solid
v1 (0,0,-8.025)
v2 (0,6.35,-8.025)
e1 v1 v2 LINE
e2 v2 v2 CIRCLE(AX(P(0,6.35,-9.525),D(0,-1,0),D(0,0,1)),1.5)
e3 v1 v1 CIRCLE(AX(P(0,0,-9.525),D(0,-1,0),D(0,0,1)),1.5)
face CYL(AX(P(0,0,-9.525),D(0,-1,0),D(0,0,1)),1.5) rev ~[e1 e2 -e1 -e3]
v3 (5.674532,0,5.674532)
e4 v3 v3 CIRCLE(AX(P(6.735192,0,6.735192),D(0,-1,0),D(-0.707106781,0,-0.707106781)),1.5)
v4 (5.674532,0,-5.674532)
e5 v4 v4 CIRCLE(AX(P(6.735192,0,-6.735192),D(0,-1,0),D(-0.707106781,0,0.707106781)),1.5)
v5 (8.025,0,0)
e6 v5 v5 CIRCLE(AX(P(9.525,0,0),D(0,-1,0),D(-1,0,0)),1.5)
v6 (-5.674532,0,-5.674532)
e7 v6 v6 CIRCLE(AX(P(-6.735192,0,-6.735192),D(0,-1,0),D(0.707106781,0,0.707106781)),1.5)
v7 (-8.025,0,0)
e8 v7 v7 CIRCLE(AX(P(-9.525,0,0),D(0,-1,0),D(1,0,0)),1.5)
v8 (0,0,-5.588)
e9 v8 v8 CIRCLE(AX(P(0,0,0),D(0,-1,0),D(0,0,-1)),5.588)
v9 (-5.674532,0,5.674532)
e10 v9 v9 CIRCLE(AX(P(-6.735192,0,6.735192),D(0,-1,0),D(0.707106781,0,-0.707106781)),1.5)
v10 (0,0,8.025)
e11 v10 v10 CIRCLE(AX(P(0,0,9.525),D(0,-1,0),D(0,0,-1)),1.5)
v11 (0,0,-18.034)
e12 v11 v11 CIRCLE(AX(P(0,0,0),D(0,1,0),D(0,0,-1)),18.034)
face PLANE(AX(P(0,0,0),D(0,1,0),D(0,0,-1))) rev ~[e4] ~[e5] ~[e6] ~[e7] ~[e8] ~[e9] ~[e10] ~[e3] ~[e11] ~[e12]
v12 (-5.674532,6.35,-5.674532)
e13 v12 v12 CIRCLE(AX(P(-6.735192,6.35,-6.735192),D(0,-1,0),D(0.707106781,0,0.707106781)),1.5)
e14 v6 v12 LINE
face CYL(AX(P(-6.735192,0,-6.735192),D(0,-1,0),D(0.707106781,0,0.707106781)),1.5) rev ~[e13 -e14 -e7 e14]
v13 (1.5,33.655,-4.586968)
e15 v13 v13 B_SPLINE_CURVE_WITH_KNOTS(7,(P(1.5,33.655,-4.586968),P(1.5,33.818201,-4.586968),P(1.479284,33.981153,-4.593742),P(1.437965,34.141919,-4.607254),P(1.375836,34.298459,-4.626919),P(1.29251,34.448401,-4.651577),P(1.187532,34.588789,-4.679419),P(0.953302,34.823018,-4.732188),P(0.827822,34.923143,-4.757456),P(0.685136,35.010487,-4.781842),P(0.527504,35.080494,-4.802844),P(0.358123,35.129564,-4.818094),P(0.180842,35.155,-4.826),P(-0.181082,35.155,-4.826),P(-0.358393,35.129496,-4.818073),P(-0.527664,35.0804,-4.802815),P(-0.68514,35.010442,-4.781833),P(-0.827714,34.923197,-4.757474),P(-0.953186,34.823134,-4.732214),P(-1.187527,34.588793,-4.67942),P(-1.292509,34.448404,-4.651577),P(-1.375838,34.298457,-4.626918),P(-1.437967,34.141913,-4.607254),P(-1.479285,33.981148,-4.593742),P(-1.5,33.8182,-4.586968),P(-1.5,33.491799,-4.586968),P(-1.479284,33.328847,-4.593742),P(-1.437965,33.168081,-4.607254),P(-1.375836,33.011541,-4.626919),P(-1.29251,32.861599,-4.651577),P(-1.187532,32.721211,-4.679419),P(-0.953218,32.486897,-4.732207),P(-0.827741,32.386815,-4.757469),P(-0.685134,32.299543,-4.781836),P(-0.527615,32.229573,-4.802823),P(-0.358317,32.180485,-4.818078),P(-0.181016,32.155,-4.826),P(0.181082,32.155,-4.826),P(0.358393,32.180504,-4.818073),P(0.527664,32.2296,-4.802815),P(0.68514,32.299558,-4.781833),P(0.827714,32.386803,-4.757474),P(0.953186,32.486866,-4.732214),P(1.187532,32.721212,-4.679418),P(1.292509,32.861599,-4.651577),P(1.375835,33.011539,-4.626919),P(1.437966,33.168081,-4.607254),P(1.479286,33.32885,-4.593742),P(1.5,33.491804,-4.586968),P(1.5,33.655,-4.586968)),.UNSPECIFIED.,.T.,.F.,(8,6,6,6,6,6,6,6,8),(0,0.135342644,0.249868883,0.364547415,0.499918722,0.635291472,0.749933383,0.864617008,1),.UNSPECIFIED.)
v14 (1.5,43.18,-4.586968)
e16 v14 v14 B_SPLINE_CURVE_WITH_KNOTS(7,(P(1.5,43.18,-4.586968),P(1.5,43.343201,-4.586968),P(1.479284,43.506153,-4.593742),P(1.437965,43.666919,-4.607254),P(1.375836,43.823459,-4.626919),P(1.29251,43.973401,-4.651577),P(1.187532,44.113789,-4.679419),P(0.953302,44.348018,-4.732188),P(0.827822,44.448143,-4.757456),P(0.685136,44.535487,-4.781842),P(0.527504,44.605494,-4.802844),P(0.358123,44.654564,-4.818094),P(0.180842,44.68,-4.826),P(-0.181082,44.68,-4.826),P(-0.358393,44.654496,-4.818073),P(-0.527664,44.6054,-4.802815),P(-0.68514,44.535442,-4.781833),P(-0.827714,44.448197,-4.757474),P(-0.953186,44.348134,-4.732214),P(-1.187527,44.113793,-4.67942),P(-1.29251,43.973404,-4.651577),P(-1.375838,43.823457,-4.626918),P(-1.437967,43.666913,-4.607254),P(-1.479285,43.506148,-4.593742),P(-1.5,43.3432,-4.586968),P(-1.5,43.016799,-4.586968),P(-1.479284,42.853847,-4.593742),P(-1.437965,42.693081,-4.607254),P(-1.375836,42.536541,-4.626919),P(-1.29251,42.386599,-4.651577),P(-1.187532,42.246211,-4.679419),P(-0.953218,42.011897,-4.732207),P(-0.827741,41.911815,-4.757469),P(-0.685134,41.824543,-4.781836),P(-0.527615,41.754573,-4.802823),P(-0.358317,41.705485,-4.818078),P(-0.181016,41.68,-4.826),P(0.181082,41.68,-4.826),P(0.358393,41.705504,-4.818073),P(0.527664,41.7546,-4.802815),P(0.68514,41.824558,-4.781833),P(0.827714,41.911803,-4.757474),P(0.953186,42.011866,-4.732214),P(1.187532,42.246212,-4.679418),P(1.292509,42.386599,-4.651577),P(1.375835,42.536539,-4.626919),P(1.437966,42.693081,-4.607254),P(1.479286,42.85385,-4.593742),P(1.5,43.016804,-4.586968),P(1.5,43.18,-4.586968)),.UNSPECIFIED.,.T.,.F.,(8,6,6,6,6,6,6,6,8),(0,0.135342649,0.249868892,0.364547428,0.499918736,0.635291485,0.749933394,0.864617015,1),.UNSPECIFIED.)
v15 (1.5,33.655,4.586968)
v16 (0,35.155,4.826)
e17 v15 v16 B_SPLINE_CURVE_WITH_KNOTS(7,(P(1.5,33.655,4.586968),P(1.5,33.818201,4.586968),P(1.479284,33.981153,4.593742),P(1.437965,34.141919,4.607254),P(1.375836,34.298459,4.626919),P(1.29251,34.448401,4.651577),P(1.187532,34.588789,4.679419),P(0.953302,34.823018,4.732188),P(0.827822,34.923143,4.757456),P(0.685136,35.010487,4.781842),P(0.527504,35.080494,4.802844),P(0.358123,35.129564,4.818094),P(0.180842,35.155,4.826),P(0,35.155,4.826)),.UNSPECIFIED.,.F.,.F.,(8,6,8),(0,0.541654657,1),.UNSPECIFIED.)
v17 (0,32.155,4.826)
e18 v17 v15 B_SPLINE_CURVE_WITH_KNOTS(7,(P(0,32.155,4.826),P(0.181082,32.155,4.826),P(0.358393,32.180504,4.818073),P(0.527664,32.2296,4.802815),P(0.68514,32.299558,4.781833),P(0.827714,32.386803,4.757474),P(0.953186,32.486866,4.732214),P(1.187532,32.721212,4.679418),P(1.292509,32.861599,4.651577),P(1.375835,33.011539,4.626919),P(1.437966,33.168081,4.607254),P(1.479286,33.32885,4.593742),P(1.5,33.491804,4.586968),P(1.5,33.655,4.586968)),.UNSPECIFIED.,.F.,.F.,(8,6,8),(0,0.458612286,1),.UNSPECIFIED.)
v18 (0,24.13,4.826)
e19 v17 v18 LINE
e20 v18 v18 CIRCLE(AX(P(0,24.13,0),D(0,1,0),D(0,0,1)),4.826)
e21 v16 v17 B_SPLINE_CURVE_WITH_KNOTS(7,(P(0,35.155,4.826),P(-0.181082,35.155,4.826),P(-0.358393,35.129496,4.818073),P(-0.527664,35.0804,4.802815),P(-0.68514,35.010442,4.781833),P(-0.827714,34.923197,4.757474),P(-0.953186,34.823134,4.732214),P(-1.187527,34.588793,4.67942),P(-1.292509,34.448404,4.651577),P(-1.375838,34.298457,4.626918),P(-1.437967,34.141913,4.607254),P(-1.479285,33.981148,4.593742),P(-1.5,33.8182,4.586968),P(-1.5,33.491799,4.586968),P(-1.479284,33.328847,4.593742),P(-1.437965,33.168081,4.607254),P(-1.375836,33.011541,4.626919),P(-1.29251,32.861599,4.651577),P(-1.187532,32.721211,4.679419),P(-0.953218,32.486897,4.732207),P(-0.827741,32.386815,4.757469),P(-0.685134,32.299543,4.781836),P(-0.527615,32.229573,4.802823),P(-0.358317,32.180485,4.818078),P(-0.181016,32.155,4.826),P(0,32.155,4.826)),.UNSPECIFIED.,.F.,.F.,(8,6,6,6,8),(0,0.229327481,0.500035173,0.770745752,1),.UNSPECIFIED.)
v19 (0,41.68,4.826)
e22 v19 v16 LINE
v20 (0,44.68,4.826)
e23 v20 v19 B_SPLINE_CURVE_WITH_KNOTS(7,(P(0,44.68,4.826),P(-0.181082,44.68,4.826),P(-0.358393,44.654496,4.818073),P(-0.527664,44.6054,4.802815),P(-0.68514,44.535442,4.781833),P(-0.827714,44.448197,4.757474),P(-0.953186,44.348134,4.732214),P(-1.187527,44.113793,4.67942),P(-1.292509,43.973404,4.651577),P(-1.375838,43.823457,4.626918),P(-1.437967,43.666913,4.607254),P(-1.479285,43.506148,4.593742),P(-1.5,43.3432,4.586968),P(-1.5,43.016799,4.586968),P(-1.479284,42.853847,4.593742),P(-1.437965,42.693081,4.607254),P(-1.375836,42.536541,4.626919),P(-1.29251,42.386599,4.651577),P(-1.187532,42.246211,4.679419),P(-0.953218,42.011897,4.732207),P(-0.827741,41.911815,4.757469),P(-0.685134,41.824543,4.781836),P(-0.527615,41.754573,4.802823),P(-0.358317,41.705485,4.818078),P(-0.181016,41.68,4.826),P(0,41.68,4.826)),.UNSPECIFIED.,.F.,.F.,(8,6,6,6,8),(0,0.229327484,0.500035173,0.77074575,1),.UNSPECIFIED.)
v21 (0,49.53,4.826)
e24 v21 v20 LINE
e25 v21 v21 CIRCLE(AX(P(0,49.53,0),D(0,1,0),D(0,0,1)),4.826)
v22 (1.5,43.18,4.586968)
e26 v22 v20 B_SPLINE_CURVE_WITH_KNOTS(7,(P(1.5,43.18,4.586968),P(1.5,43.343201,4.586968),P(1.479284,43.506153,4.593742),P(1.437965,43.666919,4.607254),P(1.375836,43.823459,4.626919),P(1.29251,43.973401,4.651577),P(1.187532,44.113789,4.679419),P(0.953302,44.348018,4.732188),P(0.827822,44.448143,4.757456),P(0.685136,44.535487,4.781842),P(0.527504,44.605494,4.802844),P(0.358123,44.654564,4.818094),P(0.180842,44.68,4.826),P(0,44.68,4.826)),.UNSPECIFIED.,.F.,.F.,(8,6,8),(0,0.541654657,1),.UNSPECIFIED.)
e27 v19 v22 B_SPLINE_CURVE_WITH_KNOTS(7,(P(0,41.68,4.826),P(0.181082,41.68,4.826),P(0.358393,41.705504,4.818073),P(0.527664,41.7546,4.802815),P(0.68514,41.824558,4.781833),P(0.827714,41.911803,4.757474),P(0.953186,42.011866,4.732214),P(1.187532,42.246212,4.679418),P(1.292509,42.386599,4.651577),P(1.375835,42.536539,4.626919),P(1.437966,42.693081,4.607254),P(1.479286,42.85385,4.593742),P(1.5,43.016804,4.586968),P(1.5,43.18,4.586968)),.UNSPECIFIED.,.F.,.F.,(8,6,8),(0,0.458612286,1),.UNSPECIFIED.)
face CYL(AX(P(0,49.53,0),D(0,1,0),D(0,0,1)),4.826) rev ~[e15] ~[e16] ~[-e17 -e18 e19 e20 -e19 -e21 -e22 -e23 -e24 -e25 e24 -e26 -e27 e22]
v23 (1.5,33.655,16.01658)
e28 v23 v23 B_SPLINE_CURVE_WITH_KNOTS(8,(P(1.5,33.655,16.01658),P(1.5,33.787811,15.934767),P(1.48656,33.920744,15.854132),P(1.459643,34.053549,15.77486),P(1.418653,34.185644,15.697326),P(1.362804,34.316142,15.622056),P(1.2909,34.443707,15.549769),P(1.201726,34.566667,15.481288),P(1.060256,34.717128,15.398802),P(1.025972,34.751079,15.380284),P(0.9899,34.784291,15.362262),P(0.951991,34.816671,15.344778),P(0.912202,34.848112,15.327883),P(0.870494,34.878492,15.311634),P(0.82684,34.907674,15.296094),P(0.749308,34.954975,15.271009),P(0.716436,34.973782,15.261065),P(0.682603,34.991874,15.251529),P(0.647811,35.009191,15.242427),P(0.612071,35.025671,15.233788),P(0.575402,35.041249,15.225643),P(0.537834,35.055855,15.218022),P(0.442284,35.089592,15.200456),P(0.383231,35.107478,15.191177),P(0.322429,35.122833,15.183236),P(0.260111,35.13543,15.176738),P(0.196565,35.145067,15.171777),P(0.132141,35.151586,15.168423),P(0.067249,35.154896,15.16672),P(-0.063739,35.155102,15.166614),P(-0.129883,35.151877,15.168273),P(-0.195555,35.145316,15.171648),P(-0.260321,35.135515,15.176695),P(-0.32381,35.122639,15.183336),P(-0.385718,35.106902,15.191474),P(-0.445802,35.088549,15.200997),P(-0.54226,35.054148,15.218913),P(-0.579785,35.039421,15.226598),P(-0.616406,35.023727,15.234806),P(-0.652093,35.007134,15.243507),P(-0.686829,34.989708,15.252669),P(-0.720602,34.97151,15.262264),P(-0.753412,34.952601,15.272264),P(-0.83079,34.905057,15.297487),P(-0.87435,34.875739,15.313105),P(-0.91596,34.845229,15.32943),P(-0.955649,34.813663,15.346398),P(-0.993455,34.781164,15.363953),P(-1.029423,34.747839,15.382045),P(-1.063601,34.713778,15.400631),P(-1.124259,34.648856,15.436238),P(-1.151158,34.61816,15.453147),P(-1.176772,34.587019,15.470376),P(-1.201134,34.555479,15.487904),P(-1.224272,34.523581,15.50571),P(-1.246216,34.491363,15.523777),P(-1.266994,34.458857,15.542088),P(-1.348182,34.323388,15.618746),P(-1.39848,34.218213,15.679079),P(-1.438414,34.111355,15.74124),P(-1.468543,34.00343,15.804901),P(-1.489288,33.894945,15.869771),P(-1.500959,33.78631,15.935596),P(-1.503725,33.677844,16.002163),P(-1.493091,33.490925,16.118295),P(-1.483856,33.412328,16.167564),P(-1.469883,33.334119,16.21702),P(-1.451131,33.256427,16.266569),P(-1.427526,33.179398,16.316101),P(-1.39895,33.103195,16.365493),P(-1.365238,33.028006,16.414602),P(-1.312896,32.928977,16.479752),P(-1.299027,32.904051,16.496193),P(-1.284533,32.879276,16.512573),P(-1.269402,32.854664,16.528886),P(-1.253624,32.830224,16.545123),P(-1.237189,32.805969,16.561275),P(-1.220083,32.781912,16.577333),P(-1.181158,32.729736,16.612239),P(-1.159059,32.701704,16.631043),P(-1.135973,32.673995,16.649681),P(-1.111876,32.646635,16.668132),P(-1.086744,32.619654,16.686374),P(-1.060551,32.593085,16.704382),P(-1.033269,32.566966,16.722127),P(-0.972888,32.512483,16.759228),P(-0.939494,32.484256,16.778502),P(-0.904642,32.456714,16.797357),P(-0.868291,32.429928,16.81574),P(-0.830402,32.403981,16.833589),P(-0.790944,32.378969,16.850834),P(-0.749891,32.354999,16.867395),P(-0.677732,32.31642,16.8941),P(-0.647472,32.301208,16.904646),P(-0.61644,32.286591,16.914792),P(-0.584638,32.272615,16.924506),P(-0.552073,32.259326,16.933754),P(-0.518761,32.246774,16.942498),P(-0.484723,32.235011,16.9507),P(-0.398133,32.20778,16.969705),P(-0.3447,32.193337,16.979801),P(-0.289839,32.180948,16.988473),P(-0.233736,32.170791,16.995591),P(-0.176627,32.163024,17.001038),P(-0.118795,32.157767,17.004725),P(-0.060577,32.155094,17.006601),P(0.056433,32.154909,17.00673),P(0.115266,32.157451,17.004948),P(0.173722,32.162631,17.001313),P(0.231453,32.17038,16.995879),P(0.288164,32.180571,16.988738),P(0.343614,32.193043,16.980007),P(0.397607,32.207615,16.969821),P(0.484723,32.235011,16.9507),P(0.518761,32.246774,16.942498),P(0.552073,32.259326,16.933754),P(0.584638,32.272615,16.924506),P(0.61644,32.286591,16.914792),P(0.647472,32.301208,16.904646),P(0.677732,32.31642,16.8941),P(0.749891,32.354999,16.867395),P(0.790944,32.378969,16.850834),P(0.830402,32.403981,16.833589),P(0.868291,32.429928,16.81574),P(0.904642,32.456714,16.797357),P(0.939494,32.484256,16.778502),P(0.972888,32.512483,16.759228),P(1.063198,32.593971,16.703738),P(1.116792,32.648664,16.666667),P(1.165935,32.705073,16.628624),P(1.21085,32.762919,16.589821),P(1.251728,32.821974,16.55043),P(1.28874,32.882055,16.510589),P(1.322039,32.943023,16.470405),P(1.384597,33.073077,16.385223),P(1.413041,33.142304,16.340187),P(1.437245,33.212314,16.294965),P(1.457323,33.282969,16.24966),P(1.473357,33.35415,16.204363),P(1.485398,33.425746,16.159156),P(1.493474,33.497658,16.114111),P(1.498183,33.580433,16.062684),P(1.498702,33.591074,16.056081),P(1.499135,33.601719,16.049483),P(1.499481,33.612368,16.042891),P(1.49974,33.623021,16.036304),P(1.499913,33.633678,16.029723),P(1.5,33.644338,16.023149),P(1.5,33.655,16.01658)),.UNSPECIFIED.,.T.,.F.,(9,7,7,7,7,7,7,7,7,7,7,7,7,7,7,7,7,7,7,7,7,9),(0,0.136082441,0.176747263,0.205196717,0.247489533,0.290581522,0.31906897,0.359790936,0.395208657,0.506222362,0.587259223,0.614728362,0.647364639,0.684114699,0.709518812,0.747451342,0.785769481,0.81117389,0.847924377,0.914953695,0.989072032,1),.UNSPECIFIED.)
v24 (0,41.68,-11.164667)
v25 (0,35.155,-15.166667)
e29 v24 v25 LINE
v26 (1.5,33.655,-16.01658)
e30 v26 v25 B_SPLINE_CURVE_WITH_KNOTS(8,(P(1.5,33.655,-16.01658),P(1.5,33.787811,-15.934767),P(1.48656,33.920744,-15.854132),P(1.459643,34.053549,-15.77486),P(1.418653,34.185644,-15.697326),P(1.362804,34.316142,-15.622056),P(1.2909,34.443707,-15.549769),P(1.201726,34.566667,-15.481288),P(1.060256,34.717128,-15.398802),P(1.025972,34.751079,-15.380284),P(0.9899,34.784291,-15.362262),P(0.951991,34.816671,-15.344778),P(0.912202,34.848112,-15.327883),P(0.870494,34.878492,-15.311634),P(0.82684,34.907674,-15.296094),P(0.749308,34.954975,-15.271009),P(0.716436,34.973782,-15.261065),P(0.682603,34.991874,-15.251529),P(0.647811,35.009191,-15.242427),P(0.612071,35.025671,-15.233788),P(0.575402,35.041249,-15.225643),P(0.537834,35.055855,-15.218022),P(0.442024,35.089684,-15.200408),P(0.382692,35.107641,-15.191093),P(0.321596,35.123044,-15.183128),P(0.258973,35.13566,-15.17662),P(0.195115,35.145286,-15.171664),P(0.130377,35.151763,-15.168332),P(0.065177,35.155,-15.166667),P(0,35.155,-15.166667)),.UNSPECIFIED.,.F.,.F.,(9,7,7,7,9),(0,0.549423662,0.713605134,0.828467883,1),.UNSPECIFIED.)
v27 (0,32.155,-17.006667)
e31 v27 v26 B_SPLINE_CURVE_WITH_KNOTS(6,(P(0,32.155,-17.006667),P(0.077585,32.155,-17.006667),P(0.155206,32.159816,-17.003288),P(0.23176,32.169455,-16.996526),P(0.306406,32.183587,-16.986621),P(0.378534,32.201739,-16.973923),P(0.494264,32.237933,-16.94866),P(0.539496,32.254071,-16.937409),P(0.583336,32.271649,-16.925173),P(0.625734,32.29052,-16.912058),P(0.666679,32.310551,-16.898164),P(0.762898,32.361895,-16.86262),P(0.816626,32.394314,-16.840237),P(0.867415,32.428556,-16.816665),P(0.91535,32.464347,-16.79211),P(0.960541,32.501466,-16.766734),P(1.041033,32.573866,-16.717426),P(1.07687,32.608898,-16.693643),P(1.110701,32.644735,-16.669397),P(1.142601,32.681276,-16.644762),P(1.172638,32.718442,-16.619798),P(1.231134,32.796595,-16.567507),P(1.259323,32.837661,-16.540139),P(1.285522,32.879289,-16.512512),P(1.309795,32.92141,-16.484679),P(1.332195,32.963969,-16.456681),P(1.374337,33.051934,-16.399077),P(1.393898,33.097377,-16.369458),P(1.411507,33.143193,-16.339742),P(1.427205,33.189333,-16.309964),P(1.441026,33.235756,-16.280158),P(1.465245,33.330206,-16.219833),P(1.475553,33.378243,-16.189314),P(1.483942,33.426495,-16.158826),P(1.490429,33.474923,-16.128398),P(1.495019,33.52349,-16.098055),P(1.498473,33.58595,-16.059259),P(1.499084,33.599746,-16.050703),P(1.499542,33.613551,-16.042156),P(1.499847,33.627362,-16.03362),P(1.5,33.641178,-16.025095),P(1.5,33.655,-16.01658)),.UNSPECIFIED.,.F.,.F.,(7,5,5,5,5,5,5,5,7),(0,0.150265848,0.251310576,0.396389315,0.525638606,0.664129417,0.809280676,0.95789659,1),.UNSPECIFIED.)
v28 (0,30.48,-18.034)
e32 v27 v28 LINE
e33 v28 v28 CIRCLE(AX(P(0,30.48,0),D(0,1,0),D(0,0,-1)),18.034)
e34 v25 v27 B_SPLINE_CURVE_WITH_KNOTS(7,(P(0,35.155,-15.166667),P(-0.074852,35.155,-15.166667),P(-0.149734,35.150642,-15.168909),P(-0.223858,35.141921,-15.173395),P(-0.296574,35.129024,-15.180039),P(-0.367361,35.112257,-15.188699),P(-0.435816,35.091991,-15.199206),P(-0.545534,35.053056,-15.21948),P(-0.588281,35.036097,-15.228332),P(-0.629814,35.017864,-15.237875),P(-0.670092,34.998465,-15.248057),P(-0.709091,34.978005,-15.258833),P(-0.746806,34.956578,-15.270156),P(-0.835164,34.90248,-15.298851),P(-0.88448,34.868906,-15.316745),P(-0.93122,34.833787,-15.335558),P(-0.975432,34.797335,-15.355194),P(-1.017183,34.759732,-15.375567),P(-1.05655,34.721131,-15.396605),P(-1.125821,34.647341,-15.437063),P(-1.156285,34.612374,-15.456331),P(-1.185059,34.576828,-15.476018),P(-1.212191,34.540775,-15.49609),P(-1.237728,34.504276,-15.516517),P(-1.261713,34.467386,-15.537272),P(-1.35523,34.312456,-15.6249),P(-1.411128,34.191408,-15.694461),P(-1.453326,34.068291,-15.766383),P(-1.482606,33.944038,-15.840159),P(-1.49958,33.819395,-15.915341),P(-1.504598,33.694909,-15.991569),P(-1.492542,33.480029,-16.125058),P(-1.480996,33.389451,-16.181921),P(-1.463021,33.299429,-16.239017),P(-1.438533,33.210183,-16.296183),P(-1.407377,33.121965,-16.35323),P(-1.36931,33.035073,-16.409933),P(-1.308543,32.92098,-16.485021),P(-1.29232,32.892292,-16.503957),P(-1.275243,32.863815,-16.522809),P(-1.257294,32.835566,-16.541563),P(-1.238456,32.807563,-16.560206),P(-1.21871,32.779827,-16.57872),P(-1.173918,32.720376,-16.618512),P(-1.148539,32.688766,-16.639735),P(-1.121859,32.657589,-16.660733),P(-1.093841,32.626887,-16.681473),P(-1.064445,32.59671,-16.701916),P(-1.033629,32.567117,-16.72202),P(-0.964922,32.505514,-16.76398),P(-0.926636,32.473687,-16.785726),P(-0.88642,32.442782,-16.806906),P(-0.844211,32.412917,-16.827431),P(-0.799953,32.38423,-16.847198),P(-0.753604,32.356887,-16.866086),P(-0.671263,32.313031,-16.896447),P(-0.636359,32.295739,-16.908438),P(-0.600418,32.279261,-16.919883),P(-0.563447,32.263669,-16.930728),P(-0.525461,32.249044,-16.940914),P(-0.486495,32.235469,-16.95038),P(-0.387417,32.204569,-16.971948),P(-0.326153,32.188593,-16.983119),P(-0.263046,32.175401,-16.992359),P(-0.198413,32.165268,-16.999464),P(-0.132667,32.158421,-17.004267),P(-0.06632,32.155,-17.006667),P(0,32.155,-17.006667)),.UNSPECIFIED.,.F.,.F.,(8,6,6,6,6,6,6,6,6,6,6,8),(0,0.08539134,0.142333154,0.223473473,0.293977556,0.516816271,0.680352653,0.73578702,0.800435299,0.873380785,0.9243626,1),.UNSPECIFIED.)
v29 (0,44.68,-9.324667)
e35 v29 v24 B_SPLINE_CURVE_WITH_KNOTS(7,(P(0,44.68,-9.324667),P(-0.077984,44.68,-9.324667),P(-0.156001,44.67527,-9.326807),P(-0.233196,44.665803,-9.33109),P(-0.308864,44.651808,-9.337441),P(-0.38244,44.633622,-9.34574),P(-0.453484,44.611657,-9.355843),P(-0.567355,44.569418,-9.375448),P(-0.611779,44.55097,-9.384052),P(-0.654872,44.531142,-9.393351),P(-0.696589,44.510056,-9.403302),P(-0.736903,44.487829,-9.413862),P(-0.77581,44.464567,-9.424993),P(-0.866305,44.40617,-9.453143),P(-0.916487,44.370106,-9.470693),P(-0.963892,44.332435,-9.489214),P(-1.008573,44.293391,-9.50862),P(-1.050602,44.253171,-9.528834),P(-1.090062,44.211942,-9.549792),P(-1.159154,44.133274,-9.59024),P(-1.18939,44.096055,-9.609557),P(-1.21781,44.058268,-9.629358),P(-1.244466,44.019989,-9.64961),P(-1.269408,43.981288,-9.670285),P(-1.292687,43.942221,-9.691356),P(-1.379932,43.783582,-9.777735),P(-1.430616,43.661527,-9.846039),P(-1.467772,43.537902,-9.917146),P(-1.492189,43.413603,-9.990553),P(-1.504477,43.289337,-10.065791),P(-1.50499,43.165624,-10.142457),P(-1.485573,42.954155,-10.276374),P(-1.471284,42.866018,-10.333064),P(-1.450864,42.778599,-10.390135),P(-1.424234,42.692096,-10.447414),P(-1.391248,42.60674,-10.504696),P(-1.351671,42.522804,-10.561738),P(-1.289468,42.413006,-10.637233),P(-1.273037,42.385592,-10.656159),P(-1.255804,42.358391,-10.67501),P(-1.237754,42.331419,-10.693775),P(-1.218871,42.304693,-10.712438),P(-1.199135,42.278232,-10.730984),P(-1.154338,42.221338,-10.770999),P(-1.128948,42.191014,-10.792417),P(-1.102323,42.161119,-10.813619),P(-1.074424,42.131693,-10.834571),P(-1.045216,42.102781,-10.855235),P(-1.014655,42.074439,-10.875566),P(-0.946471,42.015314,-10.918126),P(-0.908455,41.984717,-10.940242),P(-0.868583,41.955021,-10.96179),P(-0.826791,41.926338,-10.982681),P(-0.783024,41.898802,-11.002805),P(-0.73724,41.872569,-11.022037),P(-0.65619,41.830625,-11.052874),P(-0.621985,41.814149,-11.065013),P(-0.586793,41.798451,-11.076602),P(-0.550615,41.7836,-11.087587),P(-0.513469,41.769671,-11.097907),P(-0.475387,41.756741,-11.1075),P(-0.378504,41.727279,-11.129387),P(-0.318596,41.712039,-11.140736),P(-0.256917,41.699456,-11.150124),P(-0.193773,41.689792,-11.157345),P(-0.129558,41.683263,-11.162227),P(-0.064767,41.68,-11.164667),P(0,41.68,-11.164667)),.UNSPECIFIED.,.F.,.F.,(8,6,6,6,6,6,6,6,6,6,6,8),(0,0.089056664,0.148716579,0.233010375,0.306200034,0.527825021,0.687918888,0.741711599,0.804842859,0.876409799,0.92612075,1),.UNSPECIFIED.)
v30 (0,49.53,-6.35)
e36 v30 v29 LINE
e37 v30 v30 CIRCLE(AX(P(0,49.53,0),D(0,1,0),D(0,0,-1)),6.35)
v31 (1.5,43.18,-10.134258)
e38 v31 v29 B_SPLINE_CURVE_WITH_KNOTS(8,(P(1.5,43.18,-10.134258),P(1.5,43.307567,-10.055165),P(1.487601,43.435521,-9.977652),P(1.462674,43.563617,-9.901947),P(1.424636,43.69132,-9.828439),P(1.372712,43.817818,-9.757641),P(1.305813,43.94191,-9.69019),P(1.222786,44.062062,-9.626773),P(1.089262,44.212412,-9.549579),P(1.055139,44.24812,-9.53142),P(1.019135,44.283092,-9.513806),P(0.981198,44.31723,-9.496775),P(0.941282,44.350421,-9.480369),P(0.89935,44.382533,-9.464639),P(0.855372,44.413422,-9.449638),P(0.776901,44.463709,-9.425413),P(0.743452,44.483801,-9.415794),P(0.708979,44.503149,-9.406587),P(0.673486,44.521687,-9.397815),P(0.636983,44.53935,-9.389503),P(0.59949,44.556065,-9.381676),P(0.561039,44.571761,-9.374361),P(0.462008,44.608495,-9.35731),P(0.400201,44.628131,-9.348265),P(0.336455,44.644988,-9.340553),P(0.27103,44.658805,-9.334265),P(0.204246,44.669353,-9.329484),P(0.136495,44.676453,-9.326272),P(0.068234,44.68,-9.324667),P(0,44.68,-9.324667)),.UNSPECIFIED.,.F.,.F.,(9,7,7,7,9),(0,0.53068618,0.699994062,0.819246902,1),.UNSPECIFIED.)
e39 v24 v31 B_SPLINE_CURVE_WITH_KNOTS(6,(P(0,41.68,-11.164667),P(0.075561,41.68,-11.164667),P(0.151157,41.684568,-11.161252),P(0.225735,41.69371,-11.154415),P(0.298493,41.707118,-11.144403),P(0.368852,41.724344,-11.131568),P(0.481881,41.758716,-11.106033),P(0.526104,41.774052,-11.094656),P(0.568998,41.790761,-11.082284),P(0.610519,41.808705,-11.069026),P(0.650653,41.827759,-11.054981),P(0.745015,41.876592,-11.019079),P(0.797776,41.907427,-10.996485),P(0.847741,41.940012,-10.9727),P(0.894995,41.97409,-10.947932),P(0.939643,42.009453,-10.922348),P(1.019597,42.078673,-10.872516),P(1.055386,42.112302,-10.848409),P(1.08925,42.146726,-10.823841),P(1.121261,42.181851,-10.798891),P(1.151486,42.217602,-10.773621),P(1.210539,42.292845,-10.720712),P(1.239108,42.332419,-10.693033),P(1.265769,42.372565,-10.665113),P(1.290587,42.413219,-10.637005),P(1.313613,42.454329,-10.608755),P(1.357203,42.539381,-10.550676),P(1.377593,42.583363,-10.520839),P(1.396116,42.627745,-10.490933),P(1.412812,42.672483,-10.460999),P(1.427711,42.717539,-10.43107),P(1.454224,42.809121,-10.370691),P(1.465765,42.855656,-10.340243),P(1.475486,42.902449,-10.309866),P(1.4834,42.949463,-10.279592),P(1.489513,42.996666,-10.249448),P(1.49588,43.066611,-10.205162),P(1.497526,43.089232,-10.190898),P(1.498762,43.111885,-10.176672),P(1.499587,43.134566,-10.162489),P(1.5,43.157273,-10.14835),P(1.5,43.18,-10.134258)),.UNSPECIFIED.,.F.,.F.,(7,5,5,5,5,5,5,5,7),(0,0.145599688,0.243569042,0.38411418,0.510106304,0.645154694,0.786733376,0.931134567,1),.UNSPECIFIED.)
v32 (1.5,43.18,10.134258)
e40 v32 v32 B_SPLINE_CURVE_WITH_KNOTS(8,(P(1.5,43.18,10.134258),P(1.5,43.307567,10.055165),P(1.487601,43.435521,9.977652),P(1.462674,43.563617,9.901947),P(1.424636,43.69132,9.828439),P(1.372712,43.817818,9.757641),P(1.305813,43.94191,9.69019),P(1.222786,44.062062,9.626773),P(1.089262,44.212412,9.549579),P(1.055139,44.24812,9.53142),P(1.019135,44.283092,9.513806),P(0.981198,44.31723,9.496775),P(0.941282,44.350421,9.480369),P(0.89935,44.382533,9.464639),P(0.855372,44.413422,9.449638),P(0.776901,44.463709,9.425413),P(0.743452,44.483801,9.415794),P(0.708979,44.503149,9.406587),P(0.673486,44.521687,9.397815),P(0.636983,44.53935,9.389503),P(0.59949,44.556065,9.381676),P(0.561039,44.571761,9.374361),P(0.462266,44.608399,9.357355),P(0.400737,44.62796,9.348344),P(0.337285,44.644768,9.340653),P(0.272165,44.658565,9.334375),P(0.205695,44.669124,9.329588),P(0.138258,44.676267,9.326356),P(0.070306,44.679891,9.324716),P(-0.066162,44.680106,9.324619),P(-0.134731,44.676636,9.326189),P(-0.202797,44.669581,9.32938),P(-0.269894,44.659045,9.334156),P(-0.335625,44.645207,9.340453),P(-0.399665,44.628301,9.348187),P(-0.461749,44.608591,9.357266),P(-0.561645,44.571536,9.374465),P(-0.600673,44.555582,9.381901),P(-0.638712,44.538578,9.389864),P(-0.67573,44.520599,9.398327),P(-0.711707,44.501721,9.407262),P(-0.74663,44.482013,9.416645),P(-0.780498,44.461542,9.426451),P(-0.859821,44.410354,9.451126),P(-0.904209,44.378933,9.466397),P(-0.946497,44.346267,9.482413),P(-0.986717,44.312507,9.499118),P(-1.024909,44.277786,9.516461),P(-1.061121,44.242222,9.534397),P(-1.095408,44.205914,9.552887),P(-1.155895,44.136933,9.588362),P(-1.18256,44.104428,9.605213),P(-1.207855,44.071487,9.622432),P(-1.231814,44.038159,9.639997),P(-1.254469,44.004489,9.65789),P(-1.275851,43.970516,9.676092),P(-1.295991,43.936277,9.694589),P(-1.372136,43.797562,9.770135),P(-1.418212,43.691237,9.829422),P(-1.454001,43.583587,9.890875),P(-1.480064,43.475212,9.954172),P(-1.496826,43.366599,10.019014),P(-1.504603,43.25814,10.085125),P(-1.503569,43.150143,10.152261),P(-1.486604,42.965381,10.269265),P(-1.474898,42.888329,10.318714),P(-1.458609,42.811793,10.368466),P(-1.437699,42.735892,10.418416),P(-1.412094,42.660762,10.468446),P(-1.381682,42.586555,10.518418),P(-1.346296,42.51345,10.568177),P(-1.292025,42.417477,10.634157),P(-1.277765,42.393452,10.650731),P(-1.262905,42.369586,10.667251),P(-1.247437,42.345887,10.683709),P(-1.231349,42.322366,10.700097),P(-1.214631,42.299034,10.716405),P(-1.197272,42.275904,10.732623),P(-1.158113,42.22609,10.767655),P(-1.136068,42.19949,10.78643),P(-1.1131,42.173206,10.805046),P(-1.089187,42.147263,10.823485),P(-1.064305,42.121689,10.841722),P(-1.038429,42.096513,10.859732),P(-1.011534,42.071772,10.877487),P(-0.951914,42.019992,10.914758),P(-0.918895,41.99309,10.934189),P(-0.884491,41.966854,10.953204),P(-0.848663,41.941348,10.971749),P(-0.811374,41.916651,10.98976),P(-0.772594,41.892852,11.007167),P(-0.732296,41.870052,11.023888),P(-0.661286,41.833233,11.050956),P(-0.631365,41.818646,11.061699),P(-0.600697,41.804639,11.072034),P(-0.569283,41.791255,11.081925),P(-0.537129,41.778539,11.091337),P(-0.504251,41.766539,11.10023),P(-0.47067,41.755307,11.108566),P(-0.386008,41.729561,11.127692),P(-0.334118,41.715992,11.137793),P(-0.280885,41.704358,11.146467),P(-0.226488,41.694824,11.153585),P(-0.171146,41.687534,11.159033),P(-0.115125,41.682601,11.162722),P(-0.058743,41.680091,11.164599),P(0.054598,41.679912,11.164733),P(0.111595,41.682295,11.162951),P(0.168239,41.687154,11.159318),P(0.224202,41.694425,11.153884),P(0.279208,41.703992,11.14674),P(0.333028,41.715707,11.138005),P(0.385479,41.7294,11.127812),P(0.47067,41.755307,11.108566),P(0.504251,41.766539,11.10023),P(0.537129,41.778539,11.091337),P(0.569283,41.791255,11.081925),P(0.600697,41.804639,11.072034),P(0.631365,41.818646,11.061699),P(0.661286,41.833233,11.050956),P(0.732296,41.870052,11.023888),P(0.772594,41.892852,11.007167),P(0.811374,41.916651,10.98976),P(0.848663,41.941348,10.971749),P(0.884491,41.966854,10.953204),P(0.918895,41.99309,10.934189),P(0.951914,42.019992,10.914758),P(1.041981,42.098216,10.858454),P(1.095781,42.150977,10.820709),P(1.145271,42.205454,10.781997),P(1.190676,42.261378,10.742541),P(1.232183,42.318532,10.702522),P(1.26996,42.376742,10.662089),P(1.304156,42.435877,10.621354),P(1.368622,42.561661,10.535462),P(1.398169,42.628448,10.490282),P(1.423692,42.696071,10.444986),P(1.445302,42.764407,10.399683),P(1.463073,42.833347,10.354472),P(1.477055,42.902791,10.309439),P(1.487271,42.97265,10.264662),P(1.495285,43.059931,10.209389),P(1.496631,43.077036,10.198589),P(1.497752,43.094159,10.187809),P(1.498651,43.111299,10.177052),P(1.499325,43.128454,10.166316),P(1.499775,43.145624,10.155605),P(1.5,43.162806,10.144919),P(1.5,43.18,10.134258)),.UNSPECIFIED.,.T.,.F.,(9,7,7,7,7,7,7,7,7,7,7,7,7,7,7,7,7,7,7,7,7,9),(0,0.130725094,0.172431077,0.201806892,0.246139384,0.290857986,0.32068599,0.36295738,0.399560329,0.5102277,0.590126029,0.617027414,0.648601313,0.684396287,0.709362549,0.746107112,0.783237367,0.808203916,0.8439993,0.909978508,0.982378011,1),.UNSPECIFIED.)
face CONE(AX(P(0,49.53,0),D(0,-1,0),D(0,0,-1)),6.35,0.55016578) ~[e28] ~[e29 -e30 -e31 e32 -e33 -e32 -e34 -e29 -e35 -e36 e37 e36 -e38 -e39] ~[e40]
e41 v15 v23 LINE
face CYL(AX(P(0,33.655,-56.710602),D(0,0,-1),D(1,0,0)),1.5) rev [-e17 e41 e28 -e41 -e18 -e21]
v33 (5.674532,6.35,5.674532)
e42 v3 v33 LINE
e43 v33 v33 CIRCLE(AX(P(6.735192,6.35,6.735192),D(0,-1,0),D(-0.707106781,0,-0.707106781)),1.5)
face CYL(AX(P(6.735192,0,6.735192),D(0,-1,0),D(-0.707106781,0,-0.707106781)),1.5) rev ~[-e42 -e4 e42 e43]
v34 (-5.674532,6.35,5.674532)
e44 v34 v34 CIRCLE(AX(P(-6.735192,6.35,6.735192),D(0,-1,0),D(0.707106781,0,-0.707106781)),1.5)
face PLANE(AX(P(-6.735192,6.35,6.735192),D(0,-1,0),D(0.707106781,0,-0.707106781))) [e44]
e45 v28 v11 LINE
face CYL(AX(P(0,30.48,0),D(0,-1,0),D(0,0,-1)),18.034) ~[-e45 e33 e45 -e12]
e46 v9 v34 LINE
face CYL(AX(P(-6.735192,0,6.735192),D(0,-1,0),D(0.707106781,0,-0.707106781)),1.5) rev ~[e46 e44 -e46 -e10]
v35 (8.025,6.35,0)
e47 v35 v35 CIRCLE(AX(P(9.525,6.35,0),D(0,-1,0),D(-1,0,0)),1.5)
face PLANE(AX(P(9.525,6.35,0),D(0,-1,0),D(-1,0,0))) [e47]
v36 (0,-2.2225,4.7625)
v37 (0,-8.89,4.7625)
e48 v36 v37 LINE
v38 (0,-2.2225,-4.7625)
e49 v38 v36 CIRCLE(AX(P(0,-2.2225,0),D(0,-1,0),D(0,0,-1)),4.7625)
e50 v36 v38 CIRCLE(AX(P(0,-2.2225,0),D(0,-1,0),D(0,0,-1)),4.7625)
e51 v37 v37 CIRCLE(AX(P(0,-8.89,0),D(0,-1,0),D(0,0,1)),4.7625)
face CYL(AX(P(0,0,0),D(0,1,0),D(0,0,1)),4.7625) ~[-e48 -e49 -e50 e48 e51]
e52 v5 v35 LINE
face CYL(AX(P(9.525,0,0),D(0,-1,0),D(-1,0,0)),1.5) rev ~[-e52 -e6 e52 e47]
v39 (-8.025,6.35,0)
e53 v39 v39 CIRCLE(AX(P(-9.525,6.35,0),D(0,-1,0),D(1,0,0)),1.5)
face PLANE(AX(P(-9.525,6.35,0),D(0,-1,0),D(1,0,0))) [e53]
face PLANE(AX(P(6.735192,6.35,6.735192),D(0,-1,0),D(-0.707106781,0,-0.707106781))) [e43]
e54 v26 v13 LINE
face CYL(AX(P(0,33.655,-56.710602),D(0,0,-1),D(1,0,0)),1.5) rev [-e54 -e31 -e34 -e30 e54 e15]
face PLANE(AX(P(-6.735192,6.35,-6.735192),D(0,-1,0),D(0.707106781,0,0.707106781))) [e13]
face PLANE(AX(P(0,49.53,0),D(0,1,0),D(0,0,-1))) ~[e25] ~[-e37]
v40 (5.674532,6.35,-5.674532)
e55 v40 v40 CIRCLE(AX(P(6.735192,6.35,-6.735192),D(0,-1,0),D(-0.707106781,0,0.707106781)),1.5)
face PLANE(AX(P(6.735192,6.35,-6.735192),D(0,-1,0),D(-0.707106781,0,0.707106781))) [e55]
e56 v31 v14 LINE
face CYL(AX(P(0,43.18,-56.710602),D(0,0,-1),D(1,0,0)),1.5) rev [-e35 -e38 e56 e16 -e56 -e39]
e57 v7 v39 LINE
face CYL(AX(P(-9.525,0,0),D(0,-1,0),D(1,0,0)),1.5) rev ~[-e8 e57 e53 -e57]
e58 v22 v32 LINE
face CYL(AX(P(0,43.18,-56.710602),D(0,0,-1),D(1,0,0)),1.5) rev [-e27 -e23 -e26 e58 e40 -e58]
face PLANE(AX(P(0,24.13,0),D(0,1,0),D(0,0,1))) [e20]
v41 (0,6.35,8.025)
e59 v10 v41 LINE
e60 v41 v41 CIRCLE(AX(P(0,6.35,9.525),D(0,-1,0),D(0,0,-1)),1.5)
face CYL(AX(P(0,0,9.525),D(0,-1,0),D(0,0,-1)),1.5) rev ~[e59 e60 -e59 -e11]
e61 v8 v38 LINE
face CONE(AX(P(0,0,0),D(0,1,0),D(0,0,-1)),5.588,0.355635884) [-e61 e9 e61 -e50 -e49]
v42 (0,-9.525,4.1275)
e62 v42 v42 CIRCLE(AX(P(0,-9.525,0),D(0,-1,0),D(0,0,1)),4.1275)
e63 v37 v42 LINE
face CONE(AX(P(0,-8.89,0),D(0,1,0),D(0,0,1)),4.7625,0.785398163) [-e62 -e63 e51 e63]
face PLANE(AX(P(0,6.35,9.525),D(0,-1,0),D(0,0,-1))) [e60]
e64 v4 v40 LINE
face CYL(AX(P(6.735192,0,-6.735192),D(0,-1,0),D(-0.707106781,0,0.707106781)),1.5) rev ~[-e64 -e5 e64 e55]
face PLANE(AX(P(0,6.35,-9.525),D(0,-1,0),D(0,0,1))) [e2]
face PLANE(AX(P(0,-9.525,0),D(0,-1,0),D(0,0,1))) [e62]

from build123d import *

# Parameters (mm, degrees)
SKETCH3_R               = 4.826
CUT_EXTRUDE1_DEPTH      = 25.4
CUT_EXTRUDE2_DEPTH      = 56.71060233
CUT_EXTRUDE2_DEPTH_BACK = 56.71060233
SKETCH4_R               = 1.5
SKETCH5_R               = 1.5
CUT_EXTRUDE3_DEPTH      = 6.35
CIRPATTERN1_COUNT       = 8
SKETCH6_R               = 4.7625
BOSS_EXTRUDE1_DEPTH     = 9.525
CHAMFER1_SIZE           = 0.635


with BuildPart() as part:
    # 草图1 → 旋转1 (revolve)
    with BuildSketch(Plane.XY, mode=Mode.PRIVATE) as revolve_1_sk:
        Polygon((0, 0), (0, 30.48), (0, 49.53), (6.35, 49.53), (18.034, 30.48), (18.034, 0), align=None)
    revolve(revolve_1_sk.sketch.rotate(Axis((0, 0, 0), (0, 1, 0)), 90), axis=Axis((0, 0, 0), (0, 1, 0)))

    # Sketch3 → Cut-Extrude1 (cut)
    with BuildSketch(Plane(origin=(0, 49.53, 0), x_dir=(1, 0, 0), z_dir=(0, 1, 0))):
        with Locations(Location((0, 0, 0), (0, 0, 270))):
            Circle(SKETCH3_R)
    extrude(amount=-CUT_EXTRUDE1_DEPTH, mode=Mode.SUBTRACT)

    # Sketch4 → Cut-Extrude2 (cut, two sides: drawn at the far end of the back side and taken through both)
    with BuildSketch(Plane.XY.offset(-CUT_EXTRUDE2_DEPTH_BACK)):
        with Locations((0, 43.18)):
            Circle(SKETCH4_R)
        with Locations((0, 33.655)):
            Circle(SKETCH4_R)
    extrude(amount=CUT_EXTRUDE2_DEPTH + CUT_EXTRUDE2_DEPTH_BACK, mode=Mode.SUBTRACT)

    # Sketch5 → Cut-Extrude3 (cut)
    with BuildSketch(Plane.XZ):
        with Locations(Location((0, 9.525, 0), (0, 0, 270))):
            Circle(SKETCH5_R)
    cut_extrude3 = extrude(amount=-CUT_EXTRUDE3_DEPTH, mode=Mode.SUBTRACT)

    # CirPattern1: Cut-Extrude3 ×8 about axis
    cirpattern1_axis = Axis((0, 0, 0), (0, 1, 0))
    for i in range(1, CIRPATTERN1_COUNT):
        add(cut_extrude3.rotate(cirpattern1_axis, i * 360 / CIRPATTERN1_COUNT), mode=Mode.SUBTRACT)

    # Sketch6 → Boss-Extrude1 (add)
    with BuildSketch(Plane.XZ):
        with Locations(Location((0, 0, 0), (0, 0, 90))):
            Circle(SKETCH6_R)
    extrude(amount=BOSS_EXTRUDE1_DEPTH)

    # Chamfer1
    chamfer1_edges = [part.edges().sort_by_distance(p)[0] for p in [
        (0, -9.525, -4.7625),
    ]]
    chamfer(chamfer1_edges, length=CHAMFER1_SIZE)

    # Sketch7 → Revolve1 (revolve)
    with BuildSketch(Plane.XY, mode=Mode.PRIVATE) as revolve1_sk:
        Polygon((-5.588, 0), (-4.7625, -2.2225), (-4.7625, 0), align=None)
    revolve(revolve1_sk.sketch.rotate(Axis((0, 0, 0), (0, -1, 0)), 90), axis=Axis((0, 0, 0), (0, -1, 0)))


solid = part.part
